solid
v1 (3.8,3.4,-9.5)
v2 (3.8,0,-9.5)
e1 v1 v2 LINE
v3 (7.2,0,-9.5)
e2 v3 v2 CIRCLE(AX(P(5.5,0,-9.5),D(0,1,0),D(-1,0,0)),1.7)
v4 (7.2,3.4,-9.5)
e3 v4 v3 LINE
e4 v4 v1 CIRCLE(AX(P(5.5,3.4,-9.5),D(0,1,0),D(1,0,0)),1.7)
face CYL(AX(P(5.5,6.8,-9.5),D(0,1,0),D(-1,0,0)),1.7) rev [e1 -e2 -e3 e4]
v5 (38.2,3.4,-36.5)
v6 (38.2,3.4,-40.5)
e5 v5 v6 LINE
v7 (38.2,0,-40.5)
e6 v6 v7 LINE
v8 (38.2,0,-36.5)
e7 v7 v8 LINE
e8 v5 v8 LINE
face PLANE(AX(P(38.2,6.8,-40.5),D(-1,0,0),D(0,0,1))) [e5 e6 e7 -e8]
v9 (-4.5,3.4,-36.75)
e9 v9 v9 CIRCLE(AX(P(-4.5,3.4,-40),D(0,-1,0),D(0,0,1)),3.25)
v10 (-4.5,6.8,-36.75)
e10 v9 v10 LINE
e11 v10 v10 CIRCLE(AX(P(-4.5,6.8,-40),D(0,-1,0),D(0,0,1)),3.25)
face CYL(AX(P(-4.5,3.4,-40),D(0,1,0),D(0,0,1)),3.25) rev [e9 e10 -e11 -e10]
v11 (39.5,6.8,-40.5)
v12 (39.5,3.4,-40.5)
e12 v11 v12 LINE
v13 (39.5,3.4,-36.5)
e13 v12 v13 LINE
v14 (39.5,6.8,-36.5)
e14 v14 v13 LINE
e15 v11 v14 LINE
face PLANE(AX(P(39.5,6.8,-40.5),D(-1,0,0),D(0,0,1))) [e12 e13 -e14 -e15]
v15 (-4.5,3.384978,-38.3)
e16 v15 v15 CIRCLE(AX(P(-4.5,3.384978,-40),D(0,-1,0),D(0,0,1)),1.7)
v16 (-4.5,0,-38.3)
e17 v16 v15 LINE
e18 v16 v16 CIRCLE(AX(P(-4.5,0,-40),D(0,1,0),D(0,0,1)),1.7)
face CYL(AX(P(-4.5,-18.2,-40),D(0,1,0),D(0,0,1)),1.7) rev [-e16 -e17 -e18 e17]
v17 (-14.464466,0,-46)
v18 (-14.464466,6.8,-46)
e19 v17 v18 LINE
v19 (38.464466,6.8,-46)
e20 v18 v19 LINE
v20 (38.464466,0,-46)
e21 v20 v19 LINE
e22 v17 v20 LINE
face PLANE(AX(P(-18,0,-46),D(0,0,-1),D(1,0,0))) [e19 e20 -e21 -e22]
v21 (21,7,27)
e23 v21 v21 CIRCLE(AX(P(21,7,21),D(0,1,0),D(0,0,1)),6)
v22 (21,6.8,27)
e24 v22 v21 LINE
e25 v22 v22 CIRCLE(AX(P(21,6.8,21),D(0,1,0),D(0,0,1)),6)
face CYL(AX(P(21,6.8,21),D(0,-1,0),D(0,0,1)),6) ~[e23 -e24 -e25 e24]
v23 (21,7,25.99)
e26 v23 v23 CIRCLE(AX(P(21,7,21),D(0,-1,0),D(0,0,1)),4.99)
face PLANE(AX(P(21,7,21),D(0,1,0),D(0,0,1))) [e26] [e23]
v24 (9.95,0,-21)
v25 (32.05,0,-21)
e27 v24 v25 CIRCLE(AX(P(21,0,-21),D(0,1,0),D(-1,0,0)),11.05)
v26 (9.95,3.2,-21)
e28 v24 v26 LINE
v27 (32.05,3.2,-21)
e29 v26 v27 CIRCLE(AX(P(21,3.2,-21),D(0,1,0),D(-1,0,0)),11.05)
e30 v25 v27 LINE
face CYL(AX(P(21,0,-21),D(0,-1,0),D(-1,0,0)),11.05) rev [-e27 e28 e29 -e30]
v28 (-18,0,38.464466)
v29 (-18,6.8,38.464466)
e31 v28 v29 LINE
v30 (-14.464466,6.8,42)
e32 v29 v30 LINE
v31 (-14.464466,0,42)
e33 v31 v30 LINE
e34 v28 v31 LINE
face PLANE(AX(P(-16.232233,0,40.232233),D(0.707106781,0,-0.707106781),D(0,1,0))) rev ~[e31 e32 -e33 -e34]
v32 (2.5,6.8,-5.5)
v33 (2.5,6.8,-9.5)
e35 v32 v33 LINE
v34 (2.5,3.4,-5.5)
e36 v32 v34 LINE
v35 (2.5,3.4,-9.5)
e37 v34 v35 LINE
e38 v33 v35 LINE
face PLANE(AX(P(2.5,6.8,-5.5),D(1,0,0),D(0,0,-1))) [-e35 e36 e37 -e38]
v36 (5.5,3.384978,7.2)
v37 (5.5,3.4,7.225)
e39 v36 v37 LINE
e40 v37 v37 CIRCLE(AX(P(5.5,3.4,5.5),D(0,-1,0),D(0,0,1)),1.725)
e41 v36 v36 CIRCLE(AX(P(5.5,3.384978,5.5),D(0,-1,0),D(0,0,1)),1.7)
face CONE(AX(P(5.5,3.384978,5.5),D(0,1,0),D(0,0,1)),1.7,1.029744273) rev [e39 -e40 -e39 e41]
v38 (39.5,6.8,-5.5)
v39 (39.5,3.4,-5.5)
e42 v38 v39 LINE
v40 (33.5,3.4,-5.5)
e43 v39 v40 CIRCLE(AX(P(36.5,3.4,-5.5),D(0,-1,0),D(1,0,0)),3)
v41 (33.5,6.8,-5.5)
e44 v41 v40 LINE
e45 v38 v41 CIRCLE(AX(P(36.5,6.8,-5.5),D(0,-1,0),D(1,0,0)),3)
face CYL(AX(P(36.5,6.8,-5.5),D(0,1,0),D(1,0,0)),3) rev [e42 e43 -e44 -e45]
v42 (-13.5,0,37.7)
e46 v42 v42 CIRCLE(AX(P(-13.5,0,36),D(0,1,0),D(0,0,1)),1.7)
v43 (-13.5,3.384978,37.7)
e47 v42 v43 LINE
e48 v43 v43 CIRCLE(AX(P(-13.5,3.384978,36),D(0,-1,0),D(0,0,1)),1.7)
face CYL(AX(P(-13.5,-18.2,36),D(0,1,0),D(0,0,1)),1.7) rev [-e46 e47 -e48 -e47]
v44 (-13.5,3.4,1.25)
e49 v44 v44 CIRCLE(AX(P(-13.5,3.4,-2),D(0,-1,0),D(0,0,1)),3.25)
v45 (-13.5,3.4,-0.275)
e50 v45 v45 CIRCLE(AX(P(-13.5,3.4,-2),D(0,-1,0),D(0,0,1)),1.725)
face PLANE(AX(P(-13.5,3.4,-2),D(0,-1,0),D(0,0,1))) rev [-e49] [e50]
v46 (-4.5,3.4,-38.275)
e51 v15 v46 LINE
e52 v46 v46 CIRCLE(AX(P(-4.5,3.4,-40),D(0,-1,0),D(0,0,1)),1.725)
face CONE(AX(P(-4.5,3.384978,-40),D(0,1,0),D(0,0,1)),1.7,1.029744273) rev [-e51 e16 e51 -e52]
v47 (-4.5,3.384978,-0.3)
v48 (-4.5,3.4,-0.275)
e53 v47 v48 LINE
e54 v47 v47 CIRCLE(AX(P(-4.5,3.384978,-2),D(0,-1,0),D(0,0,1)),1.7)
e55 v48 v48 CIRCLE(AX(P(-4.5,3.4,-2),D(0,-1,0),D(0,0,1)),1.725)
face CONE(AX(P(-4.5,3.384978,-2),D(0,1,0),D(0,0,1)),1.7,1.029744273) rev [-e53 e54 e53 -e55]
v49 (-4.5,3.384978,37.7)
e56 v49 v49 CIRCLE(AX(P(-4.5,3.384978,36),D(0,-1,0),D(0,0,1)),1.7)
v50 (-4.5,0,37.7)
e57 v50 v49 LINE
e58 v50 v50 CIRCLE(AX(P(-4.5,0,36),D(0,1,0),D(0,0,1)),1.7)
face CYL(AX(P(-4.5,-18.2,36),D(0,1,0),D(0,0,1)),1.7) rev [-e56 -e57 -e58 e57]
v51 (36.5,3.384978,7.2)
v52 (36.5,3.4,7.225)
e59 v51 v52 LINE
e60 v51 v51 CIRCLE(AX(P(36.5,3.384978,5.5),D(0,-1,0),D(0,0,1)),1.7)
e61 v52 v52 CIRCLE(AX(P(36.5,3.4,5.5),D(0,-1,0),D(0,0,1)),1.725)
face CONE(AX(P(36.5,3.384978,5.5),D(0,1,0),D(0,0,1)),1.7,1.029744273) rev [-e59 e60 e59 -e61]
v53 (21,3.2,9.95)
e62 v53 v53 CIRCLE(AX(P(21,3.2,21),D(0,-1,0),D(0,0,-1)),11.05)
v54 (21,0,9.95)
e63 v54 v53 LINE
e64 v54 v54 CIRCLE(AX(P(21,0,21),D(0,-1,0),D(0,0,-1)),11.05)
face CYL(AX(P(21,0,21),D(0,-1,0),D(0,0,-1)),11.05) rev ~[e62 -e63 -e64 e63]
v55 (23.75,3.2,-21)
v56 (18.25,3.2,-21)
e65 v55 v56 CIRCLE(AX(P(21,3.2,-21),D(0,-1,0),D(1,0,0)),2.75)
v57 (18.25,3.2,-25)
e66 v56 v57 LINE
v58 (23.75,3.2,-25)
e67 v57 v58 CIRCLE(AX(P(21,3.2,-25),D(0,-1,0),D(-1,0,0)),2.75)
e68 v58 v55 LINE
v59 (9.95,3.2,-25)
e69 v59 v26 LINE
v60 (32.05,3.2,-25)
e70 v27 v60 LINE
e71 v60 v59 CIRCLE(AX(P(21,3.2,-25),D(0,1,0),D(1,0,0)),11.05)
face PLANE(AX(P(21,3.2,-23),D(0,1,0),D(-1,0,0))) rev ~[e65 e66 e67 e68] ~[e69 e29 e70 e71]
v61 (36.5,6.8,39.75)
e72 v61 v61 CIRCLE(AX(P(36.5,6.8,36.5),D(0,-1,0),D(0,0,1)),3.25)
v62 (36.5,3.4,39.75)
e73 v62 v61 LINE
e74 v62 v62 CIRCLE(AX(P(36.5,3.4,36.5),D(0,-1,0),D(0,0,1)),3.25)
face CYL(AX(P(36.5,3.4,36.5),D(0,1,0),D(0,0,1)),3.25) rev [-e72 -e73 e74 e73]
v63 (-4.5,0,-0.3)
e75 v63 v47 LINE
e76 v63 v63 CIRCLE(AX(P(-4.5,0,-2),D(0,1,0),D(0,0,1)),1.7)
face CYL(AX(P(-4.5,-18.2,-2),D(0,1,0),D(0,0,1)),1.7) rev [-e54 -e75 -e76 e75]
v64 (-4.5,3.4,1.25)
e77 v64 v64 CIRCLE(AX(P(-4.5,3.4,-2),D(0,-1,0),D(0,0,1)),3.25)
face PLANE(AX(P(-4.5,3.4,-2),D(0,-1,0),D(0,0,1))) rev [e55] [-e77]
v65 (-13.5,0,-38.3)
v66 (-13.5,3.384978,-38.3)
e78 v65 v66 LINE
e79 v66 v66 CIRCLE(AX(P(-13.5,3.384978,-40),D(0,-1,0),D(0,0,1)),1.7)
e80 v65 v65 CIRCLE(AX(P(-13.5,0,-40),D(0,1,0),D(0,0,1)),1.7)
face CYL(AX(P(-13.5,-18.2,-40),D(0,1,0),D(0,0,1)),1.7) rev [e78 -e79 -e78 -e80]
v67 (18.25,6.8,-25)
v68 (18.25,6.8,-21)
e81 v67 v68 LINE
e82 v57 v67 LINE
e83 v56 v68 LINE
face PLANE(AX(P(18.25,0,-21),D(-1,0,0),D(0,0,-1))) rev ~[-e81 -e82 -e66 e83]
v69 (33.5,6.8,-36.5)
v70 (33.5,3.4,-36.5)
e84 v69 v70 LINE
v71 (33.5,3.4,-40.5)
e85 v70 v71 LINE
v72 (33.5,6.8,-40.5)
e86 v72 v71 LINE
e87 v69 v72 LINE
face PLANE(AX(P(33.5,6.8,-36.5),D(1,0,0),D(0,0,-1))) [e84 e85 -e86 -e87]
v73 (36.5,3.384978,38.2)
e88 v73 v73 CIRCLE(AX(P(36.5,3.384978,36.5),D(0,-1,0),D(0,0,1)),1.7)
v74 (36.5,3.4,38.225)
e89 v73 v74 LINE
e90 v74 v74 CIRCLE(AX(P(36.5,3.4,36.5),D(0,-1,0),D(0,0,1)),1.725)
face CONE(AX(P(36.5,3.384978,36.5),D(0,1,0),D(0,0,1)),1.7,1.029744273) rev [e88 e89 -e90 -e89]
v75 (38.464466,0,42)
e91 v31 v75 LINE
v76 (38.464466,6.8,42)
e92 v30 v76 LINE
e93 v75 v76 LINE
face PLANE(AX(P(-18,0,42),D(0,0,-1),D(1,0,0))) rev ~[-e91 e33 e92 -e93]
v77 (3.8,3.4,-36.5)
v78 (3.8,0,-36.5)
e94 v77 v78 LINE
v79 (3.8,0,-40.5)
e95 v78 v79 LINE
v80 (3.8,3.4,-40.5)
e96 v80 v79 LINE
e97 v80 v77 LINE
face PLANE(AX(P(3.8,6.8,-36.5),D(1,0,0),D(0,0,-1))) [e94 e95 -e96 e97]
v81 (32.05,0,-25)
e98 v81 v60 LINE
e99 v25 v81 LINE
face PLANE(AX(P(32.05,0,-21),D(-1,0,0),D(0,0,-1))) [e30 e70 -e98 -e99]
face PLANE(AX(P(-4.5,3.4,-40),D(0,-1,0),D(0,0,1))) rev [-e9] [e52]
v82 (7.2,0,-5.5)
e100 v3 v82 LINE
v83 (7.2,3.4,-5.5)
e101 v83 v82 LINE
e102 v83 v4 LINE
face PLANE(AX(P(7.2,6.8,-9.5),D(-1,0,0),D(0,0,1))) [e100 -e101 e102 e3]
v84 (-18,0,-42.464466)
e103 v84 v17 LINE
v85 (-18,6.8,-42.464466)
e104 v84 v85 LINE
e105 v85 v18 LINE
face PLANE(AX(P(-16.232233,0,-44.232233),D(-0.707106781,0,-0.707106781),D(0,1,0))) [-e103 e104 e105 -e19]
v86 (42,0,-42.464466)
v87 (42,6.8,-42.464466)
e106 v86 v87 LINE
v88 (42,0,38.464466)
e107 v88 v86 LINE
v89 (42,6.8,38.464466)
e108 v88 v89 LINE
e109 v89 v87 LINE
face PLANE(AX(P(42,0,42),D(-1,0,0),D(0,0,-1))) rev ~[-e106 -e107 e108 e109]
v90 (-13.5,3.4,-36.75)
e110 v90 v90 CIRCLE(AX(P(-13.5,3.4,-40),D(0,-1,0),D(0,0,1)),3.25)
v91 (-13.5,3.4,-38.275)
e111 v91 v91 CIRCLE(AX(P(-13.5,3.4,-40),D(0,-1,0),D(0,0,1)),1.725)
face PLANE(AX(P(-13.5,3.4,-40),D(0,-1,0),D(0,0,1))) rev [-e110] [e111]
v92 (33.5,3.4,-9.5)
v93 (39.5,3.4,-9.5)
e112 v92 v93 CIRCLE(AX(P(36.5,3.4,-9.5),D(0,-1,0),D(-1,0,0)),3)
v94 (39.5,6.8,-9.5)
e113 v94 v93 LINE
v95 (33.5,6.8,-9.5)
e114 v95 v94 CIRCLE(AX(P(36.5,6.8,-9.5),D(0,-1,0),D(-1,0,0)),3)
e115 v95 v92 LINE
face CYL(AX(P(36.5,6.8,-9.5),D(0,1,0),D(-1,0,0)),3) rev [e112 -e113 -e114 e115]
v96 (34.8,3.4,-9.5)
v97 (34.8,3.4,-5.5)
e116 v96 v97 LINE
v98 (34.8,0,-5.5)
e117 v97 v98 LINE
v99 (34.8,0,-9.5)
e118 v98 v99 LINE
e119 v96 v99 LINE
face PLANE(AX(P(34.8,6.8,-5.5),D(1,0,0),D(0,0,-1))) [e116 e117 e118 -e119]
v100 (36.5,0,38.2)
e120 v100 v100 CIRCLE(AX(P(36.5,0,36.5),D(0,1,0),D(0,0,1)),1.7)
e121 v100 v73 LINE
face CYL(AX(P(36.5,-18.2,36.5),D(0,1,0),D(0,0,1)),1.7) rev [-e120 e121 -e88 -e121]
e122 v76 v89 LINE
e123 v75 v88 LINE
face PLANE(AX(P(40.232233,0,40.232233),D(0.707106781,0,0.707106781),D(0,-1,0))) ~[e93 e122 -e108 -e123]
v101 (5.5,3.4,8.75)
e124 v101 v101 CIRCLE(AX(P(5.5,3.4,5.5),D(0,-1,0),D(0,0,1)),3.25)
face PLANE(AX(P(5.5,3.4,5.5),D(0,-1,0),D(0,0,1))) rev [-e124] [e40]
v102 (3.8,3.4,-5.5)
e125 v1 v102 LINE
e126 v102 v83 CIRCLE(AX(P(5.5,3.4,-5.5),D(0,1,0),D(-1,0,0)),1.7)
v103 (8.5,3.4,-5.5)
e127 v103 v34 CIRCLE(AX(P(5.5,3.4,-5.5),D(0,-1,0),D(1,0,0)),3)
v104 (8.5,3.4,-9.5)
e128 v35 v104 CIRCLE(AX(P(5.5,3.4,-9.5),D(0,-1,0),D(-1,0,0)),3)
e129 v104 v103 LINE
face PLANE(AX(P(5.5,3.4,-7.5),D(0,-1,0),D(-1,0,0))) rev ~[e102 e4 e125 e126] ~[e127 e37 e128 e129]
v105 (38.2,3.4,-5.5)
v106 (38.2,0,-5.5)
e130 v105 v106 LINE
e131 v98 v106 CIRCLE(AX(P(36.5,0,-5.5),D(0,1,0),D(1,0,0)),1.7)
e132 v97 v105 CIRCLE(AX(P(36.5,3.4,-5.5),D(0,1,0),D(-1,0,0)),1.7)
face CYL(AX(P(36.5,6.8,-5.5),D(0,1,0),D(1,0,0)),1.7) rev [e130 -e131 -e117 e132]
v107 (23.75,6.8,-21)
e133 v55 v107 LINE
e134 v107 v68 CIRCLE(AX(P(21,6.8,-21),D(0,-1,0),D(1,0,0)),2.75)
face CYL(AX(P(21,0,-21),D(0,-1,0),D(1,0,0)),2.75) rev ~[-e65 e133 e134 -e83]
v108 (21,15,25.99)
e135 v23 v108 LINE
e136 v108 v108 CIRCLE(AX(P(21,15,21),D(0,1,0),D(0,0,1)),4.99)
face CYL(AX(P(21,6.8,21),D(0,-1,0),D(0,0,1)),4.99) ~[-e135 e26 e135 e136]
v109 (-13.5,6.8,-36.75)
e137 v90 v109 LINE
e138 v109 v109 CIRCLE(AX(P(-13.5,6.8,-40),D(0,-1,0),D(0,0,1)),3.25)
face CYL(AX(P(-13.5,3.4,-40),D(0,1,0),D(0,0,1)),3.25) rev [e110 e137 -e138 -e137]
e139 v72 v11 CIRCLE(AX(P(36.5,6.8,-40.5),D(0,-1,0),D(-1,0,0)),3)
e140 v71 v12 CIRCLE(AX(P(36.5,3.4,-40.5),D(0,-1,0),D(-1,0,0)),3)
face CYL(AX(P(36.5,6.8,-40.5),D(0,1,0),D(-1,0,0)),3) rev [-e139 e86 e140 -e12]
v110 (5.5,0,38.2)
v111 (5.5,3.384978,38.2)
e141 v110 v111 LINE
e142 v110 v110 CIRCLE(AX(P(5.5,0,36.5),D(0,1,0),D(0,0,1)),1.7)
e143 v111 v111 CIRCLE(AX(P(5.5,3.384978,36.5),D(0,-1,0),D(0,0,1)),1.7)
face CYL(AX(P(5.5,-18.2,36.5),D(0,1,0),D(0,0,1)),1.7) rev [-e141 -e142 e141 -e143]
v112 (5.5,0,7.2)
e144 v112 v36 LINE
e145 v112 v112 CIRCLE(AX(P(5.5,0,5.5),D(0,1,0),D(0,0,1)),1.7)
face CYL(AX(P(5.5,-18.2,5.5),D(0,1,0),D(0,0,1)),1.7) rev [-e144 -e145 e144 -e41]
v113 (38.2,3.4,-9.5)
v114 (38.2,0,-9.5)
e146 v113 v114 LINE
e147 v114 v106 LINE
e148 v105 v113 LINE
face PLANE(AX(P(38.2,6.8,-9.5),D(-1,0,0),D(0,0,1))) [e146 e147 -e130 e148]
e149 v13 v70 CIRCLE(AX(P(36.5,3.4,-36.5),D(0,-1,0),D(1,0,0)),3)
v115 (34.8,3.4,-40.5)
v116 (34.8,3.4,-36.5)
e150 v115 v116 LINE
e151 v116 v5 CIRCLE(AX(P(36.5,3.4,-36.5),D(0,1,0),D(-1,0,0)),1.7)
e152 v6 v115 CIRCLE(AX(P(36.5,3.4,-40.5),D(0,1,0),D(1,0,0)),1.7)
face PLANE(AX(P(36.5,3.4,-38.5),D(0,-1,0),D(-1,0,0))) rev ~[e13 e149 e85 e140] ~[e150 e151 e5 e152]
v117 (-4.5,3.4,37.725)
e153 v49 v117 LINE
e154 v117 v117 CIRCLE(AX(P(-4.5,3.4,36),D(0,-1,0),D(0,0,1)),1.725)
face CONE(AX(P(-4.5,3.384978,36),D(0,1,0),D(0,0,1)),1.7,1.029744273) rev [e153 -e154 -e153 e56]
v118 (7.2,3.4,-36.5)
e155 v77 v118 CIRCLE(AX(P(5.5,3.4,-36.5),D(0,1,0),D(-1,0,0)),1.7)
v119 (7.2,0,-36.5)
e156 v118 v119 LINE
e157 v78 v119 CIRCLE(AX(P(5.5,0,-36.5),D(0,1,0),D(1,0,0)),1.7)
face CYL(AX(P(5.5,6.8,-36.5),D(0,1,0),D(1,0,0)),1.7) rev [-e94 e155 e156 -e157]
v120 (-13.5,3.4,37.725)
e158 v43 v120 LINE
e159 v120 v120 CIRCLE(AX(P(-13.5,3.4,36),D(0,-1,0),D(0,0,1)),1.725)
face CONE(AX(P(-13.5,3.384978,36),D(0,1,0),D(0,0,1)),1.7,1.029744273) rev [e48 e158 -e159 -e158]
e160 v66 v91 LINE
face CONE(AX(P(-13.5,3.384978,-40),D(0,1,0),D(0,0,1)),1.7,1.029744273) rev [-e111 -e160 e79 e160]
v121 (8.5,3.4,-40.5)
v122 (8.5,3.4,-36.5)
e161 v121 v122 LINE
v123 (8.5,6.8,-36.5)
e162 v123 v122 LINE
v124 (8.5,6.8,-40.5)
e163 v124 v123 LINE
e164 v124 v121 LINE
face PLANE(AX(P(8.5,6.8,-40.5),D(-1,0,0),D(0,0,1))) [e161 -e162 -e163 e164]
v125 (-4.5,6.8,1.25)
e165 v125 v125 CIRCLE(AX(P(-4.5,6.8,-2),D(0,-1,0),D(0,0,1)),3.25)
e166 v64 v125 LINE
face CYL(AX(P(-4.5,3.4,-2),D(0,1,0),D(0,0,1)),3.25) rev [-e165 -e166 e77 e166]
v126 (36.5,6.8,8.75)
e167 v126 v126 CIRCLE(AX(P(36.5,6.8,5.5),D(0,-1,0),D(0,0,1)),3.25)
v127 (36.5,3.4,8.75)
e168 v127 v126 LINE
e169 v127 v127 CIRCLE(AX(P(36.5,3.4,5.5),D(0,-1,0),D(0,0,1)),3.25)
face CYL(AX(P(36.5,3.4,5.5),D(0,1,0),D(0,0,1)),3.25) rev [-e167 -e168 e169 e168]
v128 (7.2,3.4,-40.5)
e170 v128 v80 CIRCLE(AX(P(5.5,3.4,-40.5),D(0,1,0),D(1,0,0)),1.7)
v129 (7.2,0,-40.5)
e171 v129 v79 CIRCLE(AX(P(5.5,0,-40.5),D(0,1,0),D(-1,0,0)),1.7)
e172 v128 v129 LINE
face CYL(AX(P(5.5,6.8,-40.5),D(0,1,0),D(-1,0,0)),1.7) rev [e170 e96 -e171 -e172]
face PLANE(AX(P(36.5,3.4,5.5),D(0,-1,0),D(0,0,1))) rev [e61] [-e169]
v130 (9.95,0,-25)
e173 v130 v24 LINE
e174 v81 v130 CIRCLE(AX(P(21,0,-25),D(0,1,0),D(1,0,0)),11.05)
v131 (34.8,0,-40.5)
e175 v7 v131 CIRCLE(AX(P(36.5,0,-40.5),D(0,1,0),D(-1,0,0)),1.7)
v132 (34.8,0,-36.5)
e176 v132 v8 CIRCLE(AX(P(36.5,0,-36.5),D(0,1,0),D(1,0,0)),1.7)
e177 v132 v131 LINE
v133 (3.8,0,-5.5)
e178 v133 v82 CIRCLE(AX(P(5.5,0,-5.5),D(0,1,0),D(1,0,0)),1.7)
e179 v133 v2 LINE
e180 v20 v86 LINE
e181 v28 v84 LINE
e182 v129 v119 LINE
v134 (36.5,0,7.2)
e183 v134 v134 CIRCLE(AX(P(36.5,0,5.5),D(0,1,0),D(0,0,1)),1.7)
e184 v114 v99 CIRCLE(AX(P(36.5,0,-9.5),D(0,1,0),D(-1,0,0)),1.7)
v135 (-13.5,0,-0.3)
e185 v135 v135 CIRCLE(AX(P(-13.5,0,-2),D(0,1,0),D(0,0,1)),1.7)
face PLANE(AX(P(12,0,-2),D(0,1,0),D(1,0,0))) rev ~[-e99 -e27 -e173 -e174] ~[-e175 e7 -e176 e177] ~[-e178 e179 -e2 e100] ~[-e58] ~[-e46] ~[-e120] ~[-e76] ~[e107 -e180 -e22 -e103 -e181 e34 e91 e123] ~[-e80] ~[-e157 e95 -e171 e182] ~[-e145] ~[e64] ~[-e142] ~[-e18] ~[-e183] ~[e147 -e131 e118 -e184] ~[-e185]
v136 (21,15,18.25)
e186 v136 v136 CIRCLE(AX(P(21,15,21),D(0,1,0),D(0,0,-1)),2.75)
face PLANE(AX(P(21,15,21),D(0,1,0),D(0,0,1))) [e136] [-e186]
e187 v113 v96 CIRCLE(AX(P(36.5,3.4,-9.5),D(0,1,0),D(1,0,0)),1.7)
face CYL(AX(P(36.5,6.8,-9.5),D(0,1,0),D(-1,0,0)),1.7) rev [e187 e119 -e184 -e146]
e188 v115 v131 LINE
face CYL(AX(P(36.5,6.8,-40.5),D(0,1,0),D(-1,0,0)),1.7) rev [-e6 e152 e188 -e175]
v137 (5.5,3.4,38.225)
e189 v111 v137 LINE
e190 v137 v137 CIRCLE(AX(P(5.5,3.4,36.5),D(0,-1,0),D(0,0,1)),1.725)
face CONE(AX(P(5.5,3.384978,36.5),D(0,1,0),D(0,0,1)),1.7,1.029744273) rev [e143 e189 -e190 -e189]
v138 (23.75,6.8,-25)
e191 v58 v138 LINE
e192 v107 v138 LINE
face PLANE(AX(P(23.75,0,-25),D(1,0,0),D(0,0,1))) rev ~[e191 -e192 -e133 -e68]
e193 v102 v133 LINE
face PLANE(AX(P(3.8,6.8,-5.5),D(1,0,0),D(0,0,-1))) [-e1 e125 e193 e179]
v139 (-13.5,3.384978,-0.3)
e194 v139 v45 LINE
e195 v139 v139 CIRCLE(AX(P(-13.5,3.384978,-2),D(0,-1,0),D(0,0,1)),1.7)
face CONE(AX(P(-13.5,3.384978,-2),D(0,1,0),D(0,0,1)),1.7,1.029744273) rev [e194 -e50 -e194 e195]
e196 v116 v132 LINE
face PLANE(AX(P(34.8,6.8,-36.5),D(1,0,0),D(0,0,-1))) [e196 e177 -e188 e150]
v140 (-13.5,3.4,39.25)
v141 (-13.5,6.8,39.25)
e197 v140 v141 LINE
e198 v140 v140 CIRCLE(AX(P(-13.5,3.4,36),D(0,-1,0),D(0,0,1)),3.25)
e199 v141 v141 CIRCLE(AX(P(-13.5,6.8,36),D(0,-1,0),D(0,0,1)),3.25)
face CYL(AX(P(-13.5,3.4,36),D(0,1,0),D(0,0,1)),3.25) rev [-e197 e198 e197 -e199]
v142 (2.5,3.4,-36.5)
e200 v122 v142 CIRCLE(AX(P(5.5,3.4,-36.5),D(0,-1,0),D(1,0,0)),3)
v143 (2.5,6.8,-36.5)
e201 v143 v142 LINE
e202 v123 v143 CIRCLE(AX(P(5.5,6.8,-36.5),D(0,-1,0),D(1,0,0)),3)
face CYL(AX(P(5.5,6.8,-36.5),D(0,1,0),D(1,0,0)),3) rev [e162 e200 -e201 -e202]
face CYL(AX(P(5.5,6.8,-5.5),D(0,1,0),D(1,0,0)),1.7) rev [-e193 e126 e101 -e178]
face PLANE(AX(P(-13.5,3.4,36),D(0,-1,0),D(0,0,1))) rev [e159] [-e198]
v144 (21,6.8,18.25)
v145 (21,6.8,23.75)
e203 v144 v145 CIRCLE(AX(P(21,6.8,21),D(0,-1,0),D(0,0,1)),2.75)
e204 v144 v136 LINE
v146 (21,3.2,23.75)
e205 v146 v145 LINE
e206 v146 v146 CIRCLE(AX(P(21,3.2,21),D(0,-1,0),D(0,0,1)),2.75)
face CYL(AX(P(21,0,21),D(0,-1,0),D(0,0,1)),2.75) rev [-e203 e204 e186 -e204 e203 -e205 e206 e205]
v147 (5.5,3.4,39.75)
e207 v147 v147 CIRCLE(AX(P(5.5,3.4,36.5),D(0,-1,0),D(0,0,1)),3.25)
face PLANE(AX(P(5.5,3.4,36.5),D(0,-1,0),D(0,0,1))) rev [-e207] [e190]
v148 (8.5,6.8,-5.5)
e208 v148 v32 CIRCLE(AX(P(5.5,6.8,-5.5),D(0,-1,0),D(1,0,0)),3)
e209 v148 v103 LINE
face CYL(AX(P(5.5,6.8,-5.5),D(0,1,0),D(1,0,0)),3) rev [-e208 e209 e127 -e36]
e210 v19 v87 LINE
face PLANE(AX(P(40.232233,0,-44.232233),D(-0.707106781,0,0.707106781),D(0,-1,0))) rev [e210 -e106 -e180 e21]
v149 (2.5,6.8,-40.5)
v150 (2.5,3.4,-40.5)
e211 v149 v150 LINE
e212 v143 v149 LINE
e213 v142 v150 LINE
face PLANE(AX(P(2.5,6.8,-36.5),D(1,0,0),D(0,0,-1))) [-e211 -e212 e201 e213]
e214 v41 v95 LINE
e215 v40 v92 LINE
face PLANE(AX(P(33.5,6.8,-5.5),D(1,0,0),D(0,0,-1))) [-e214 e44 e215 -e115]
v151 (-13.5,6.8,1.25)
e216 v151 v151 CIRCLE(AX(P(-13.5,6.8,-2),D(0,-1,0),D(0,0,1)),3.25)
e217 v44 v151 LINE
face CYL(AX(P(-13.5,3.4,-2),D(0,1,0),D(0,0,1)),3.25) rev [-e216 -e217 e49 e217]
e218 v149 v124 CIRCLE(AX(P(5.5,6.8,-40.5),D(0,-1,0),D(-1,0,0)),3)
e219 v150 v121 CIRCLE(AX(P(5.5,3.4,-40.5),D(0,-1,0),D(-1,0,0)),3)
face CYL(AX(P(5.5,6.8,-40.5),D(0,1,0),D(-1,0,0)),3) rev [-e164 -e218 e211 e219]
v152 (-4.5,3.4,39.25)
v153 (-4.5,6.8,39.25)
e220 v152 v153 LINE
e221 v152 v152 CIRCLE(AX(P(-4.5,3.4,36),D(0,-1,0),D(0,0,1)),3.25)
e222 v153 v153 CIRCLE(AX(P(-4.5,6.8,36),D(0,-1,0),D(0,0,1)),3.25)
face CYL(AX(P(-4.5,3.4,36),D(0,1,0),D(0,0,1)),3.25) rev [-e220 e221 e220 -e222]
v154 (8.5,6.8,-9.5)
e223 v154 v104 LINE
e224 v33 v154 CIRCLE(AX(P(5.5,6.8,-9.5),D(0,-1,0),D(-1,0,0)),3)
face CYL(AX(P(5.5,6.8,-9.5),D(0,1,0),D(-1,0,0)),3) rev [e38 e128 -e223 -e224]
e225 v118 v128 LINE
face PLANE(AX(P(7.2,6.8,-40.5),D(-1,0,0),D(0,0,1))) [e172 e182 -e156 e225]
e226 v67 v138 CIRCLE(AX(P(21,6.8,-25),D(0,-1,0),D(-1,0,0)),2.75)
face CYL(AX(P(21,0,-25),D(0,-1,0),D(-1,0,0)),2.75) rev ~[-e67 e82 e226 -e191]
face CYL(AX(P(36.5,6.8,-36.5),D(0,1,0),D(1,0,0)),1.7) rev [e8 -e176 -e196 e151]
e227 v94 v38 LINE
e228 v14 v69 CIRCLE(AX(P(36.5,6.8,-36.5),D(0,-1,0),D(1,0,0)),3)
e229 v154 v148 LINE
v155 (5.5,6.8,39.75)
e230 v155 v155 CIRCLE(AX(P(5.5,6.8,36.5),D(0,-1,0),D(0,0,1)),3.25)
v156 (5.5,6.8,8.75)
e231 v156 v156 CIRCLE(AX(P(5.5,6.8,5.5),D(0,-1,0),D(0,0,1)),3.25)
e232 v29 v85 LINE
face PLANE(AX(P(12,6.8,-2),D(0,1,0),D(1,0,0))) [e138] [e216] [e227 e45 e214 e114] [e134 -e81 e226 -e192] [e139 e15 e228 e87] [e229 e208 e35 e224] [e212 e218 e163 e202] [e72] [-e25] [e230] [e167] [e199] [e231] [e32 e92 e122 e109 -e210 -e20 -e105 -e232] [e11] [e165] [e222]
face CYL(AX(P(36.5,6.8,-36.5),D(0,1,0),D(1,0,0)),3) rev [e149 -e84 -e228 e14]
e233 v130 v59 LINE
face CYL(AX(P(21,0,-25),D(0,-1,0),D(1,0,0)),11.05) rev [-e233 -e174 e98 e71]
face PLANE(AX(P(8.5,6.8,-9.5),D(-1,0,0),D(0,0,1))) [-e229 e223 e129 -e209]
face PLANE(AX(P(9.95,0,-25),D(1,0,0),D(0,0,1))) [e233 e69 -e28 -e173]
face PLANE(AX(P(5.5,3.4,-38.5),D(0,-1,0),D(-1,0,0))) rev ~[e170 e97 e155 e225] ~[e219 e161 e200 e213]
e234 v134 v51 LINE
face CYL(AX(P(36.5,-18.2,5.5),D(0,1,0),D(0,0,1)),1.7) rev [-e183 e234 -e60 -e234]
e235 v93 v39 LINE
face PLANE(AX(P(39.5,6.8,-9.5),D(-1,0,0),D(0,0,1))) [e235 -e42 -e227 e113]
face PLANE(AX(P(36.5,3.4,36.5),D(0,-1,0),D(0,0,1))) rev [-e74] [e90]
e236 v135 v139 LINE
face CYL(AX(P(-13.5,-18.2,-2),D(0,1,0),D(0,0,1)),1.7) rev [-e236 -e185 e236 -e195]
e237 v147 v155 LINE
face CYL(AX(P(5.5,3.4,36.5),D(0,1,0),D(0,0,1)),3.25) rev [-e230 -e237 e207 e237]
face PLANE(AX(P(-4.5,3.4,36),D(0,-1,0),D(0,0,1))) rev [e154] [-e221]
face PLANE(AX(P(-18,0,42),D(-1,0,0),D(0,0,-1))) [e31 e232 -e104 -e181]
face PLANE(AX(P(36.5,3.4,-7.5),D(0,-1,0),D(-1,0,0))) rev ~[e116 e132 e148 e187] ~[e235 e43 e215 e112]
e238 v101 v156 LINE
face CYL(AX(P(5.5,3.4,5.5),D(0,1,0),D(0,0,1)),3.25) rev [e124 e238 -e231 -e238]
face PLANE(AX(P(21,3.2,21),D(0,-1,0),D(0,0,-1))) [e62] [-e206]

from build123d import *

# Parameters (mm, degrees)
SKETCH_1_W                   = 60
SKETCH_1_H                   = 88
EXTRUDE_1_DEPTH              = 6.8
SKETCH_2_R                   = 2.75
CUT_EXTRUDE_6_DEPTH          = 63.659715927
SKETCH_3_R                   = 11.05
CUT_EXTRUDE_7_DEPTH          = 3.2
SKETCH_4_R                   = 4.99
SKETCH_4_R_2                 = 2.75
EXTRUDE_2_DEPTH              = 8.2
SKETCH_5_R                   = 6
SKETCH_5_R_2                 = 4
EXTRUDE_1349_DEPTH           = 0.2
HOLE_WIZARD_M3_2_AT_2_COUNT  = 2
HOLE_WIZARD_M3_2_AT_2_PITCH  = 31
HOLE_WIZARD_M3_2_AT_3_COUNT  = 2
HOLE_WIZARD_M3_2_AT_3_PITCH  = 46.585942086
HOLE_WIZARD_M3_2_AT_4_COUNT  = 2
HOLE_WIZARD_M3_2_AT_4_PITCH  = 43.840620434
HOLE_WIZARD_M3_2_AT_5_COUNT  = 2
HOLE_WIZARD_M3_2_AT_5_PITCH  = 31
HOLE_WIZARD_M3_2_AT_6_COUNT  = 2
HOLE_WIZARD_M3_2_AT_6_PITCH  = 49.307707308
HOLE_WIZARD_M3_2_AT_7_COUNT  = 2
HOLE_WIZARD_M3_2_AT_7_PITCH  = 20.426698216
HOLE_WIZARD_M3_2_AT_8_COUNT  = 2
HOLE_WIZARD_M3_2_AT_8_PITCH  = 35.933967218
HOLE_WIZARD_M3_2_AT_9_COUNT  = 2
HOLE_WIZARD_M3_2_AT_9_PITCH  = 12.5
HOLE_WIZARD_M3_2_AT_10_COUNT = 2
HOLE_WIZARD_M3_2_AT_10_PITCH = 32.097507691
CUT_EXTRUDE_8_DEPTH          = 63.827064232
CUT_EXTRUDE_9_DEPTH          = 3.4
CHAMFER_1_SIZE               = 3.535533906


with BuildPart() as part:
    # 草图1 → 凸台-拉伸1 (new body)
    with BuildSketch(Plane(origin=(0, 0, 0), x_dir=(1, 0, 0), z_dir=(0, 1, 0))):
        with Locations((12, 2)):
            Rectangle(SKETCH_1_W, SKETCH_1_H)
    extrude(amount=EXTRUDE_1_DEPTH)

    # 草图2 → 切除-拉伸6 (cut, through all)
    with BuildSketch(Plane(origin=(0, 0, 0), x_dir=(1, 0, 0), z_dir=(0, 1, 0))):
        with Locations(Location((21, -21, 0), (0, 0, 270))):
            Circle(SKETCH_2_R)
        with BuildLine():
            Line((18.25, 21), (18.25, 25))
            ThreePointArc((18.25, 25), (21, 27.75), (23.75, 25))
            Line((23.75, 25), (23.75, 21))
            ThreePointArc((23.75, 21), (21, 18.25), (18.25, 21))
        make_face()
    extrude(amount=CUT_EXTRUDE_6_DEPTH, mode=Mode.SUBTRACT)

    # 草图3 → 切除-拉伸7 (cut)
    with BuildSketch(Plane.XZ):
        with Locations(Location((21, 21, 0), (0, 0, 270))):
            Circle(SKETCH_3_R)
        with BuildLine():
            Line((32.05, -21), (32.05, -25))
            ThreePointArc((32.05, -25), (21, -36.05), (9.95, -25))
            Line((9.95, -25), (9.95, -21))
            ThreePointArc((9.95, -21), (21, -9.95), (32.05, -21))
        make_face()
    extrude(amount=-CUT_EXTRUDE_7_DEPTH, mode=Mode.SUBTRACT)

    # 草图4 → 凸台-拉伸2 (add)
    with BuildSketch(Plane(origin=(0, 6.8, 0), x_dir=(1, 0, 0), z_dir=(0, 1, 0))):
        with Locations(Location((21, -21, 0), (0, 0, 270))):
            Circle(SKETCH_4_R)
        with Locations(Location((21, -21, 0), (0, 0, 90))):
            Circle(SKETCH_4_R_2, mode=Mode.SUBTRACT)
    extrude(amount=EXTRUDE_2_DEPTH)

    # 草图5 → Extrude 1349 (add)
    with BuildSketch(Plane(origin=(0, 6.8, 0), x_dir=(1, 0, 0), z_dir=(0, 1, 0))):
        with Locations(Location((21, -21, 0), (0, 0, 270))):
            Circle(SKETCH_5_R)
        with Locations((21, -21)):
            Circle(SKETCH_5_R_2, mode=Mode.SUBTRACT)
    extrude(amount=EXTRUDE_1349_DEPTH)

    # 草图8 → M3 六角凹头螺钉的柱形沉头孔2 (revolve, cut)
    with BuildSketch(Plane(origin=(5.5, 6.8, 5.5), x_dir=(0, 0, 1), z_dir=(1, 0, 0))):
        Polygon((0, 0), (0, 26.021463052), (1.7, 25), (1.7, 3.415021515), (1.725, 3.4), (3.25, 3.4), (3.25, 0), align=None)
    hole_wizard_m3_2 = revolve(axis=Axis((5.5, 13.15, 5.5), (0, -1, 0)), mode=Mode.SUBTRACT)

    # M3 六角凹头螺钉的柱形沉头孔2 at 2: M3 六角凹头螺钉的柱形沉头孔2 ×2
    with Locations(*[(i * HOLE_WIZARD_M3_2_AT_2_PITCH, 0, 0) for i in range(1, HOLE_WIZARD_M3_2_AT_2_COUNT)]):
        add(hole_wizard_m3_2, mode=Mode.SUBTRACT)

    # M3 六角凹头螺钉的柱形沉头孔2 at 3: M3 六角凹头螺钉的柱形沉头孔2 ×2
    with Locations(*[Vector(-0.21465703069033118, 0, -0.9766894896410068) * (i * HOLE_WIZARD_M3_2_AT_3_PITCH) for i in range(1, HOLE_WIZARD_M3_2_AT_3_COUNT)]):
        add(hole_wizard_m3_2, mode=Mode.SUBTRACT)

    # M3 六角凹头螺钉的柱形沉头孔2 at 4: M3 六角凹头螺钉的柱形沉头孔2 ×2
    with Locations(*[Vector(0.7071067811865475, 0, 0.7071067811865476) * (i * HOLE_WIZARD_M3_2_AT_4_PITCH) for i in range(1, HOLE_WIZARD_M3_2_AT_4_COUNT)]):
        add(hole_wizard_m3_2, mode=Mode.SUBTRACT)

    # M3 六角凹头螺钉的柱形沉头孔2 at 5: M3 六角凹头螺钉的柱形沉头孔2 ×2
    with Locations(*[(0, 0, i * HOLE_WIZARD_M3_2_AT_5_PITCH) for i in range(1, HOLE_WIZARD_M3_2_AT_5_COUNT)]):
        add(hole_wizard_m3_2, mode=Mode.SUBTRACT)

    # M3 六角凹头螺钉的柱形沉头孔2 at 6: M3 六角凹头螺钉的柱形沉头孔2 ×2
    with Locations(*[Vector(-0.38533529618817947, 0, -0.9227766303453767) * (i * HOLE_WIZARD_M3_2_AT_6_PITCH) for i in range(1, HOLE_WIZARD_M3_2_AT_6_COUNT)]):
        add(hole_wizard_m3_2, mode=Mode.SUBTRACT)

    # M3 六角凹头螺钉的柱形沉头孔2 at 7: M3 六角凹头螺钉的柱形沉头孔2 ×2
    with Locations(*[Vector(-0.9301552213313194, 0, -0.36716653473605715) * (i * HOLE_WIZARD_M3_2_AT_7_PITCH) for i in range(1, HOLE_WIZARD_M3_2_AT_7_COUNT)]):
        add(hole_wizard_m3_2, mode=Mode.SUBTRACT)

    # M3 六角凹头螺钉的柱形沉头孔2 at 8: M3 六角凹头螺钉的柱形沉头孔2 ×2
    with Locations(*[Vector(-0.5287476299210512, 0, 0.8487790901364567) * (i * HOLE_WIZARD_M3_2_AT_8_PITCH) for i in range(1, HOLE_WIZARD_M3_2_AT_8_COUNT)]):
        add(hole_wizard_m3_2, mode=Mode.SUBTRACT)

    # M3 六角凹头螺钉的柱形沉头孔2 at 9: M3 六角凹头螺钉的柱形沉头孔2 ×2
    with Locations(*[Vector(-0.7999999999999885, 0, -0.6000000000000153) * (i * HOLE_WIZARD_M3_2_AT_9_PITCH) for i in range(1, HOLE_WIZARD_M3_2_AT_9_COUNT)]):
        add(hole_wizard_m3_2, mode=Mode.SUBTRACT)

    # M3 六角凹头螺钉的柱形沉头孔2 at 10: M3 六角凹头螺钉的柱形沉头孔2 ×2
    with Locations(*[Vector(-0.3115506691716164, 0, 0.9502295409735051) * (i * HOLE_WIZARD_M3_2_AT_10_PITCH) for i in range(1, HOLE_WIZARD_M3_2_AT_10_COUNT)]):
        add(hole_wizard_m3_2, mode=Mode.SUBTRACT)

    # 草图9 → 切除-拉伸8 (cut, through all)
    with BuildSketch(Plane(origin=(0, 6.8, 0), x_dir=(1, 0, 0), z_dir=(0, 1, 0))):
        with BuildLine():
            Line((3.8, 5.5), (3.8, 9.5))
            ThreePointArc((3.8, 9.5), (5.5, 11.2), (7.2, 9.5))
            Line((7.2, 9.5), (7.2, 5.5))
            ThreePointArc((7.2, 5.5), (5.5, 3.8), (3.8, 5.5))
        make_face()
        with BuildLine():
            Line((34.8, 5.5), (34.8, 9.5))
            ThreePointArc((34.8, 9.5), (36.5, 11.2), (38.2, 9.5))
            Line((38.2, 9.5), (38.2, 5.5))
            ThreePointArc((38.2, 5.5), (36.5, 3.8), (34.8, 5.5))
        make_face()
        with BuildLine():
            Line((34.8, 36.5), (34.8, 40.5))
            ThreePointArc((34.8, 40.5), (36.5, 42.2), (38.2, 40.5))
            Line((38.2, 40.5), (38.2, 36.5))
            ThreePointArc((38.2, 36.5), (36.5, 34.8), (34.8, 36.5))
        make_face()
        with BuildLine():
            Line((3.8, 36.5), (3.8, 40.5))
            ThreePointArc((3.8, 40.5), (5.5, 42.2), (7.2, 40.5))
            Line((7.2, 40.5), (7.2, 36.5))
            ThreePointArc((7.2, 36.5), (5.5, 34.8), (3.8, 36.5))
        make_face()
    extrude(amount=-CUT_EXTRUDE_8_DEPTH, mode=Mode.SUBTRACT)

    # 草图10 → 切除-拉伸9 (cut)
    # profile 1 of 4: a face of its own
    with BuildSketch(Plane(origin=(0, 6.8, 0), x_dir=(1, 0, 0), z_dir=(0, 1, 0))):
        with BuildLine():
            Line((2.5, 5.5), (2.5, 9.5))
            ThreePointArc((2.5, 9.5), (5.5, 12.5), (8.5, 9.5))
            Line((8.5, 9.5), (8.5, 5.5))
            ThreePointArc((8.5, 5.5), (5.5, 2.5), (2.5, 5.5))
        make_face()
        with BuildLine():
            Line((7.2, 5.5), (7.2, 9.5))
            ThreePointArc((7.2, 9.5), (5.5, 11.2), (3.8, 9.5))
            Line((3.8, 9.5), (3.8, 5.5))
            ThreePointArc((3.8, 5.5), (5.5, 3.8), (7.2, 5.5))
        make_face(mode=Mode.SUBTRACT)
    # profile 2 of 4: a face of its own
    with BuildSketch(Plane(origin=(0, 6.8, 0), x_dir=(1, 0, 0), z_dir=(0, 1, 0))):
        with BuildLine():
            Line((33.5, 5.5), (33.5, 9.5))
            ThreePointArc((33.5, 9.5), (36.5, 12.5), (39.5, 9.5))
            Line((39.5, 9.5), (39.5, 5.5))
            ThreePointArc((39.5, 5.5), (36.5, 2.5), (33.5, 5.5))
        make_face()
        with BuildLine():
            Line((34.8, 9.5), (34.8, 5.5))
            ThreePointArc((34.8, 5.5), (36.5, 3.8), (38.2, 5.5))
            Line((38.2, 5.5), (38.2, 9.5))
            ThreePointArc((38.2, 9.5), (36.5, 11.2), (34.8, 9.5))
        make_face(mode=Mode.SUBTRACT)
    # profile 3 of 4: a face of its own
    with BuildSketch(Plane(origin=(0, 6.8, 0), x_dir=(1, 0, 0), z_dir=(0, 1, 0))):
        with BuildLine():
            Line((33.5, 36.5), (33.5, 40.5))
            ThreePointArc((33.5, 40.5), (36.5, 43.5), (39.5, 40.5))
            Line((39.5, 40.5), (39.5, 36.5))
            ThreePointArc((39.5, 36.5), (36.5, 33.5), (33.5, 36.5))
        make_face()
        with BuildLine():
            Line((38.2, 36.5), (38.2, 40.5))
            ThreePointArc((38.2, 40.5), (36.5, 42.2), (34.8, 40.5))
            Line((34.8, 40.5), (34.8, 36.5))
            ThreePointArc((34.8, 36.5), (36.5, 34.8), (38.2, 36.5))
        make_face(mode=Mode.SUBTRACT)
    # profile 4 of 4: a face of its own
    with BuildSketch(Plane(origin=(0, 6.8, 0), x_dir=(1, 0, 0), z_dir=(0, 1, 0))):
        with BuildLine():
            Line((2.5, 36.5), (2.5, 40.5))
            ThreePointArc((2.5, 40.5), (5.5, 43.5), (8.5, 40.5))
            Line((8.5, 40.5), (8.5, 36.5))
            ThreePointArc((8.5, 36.5), (5.5, 33.5), (2.5, 36.5))
        make_face()
        with BuildLine():
            Line((3.8, 40.5), (3.8, 36.5))
            ThreePointArc((3.8, 36.5), (5.5, 34.8), (7.2, 36.5))
            Line((7.2, 36.5), (7.2, 40.5))
            ThreePointArc((7.2, 40.5), (5.5, 42.2), (3.8, 40.5))
        make_face(mode=Mode.SUBTRACT)
    extrude(amount=-CUT_EXTRUDE_9_DEPTH, mode=Mode.SUBTRACT)

    # 倒角1
    chamfer_1_edges = [part.edges().sort_by_distance(p)[0] for p in [
        (-18, 3.4, -46),
        (42, 3.4, -46),
        (42, 3.4, 42),
        (-18, 3.4, 42),
    ]]
    chamfer(chamfer_1_edges, length=CHAMFER_1_SIZE)


solid = part.part
